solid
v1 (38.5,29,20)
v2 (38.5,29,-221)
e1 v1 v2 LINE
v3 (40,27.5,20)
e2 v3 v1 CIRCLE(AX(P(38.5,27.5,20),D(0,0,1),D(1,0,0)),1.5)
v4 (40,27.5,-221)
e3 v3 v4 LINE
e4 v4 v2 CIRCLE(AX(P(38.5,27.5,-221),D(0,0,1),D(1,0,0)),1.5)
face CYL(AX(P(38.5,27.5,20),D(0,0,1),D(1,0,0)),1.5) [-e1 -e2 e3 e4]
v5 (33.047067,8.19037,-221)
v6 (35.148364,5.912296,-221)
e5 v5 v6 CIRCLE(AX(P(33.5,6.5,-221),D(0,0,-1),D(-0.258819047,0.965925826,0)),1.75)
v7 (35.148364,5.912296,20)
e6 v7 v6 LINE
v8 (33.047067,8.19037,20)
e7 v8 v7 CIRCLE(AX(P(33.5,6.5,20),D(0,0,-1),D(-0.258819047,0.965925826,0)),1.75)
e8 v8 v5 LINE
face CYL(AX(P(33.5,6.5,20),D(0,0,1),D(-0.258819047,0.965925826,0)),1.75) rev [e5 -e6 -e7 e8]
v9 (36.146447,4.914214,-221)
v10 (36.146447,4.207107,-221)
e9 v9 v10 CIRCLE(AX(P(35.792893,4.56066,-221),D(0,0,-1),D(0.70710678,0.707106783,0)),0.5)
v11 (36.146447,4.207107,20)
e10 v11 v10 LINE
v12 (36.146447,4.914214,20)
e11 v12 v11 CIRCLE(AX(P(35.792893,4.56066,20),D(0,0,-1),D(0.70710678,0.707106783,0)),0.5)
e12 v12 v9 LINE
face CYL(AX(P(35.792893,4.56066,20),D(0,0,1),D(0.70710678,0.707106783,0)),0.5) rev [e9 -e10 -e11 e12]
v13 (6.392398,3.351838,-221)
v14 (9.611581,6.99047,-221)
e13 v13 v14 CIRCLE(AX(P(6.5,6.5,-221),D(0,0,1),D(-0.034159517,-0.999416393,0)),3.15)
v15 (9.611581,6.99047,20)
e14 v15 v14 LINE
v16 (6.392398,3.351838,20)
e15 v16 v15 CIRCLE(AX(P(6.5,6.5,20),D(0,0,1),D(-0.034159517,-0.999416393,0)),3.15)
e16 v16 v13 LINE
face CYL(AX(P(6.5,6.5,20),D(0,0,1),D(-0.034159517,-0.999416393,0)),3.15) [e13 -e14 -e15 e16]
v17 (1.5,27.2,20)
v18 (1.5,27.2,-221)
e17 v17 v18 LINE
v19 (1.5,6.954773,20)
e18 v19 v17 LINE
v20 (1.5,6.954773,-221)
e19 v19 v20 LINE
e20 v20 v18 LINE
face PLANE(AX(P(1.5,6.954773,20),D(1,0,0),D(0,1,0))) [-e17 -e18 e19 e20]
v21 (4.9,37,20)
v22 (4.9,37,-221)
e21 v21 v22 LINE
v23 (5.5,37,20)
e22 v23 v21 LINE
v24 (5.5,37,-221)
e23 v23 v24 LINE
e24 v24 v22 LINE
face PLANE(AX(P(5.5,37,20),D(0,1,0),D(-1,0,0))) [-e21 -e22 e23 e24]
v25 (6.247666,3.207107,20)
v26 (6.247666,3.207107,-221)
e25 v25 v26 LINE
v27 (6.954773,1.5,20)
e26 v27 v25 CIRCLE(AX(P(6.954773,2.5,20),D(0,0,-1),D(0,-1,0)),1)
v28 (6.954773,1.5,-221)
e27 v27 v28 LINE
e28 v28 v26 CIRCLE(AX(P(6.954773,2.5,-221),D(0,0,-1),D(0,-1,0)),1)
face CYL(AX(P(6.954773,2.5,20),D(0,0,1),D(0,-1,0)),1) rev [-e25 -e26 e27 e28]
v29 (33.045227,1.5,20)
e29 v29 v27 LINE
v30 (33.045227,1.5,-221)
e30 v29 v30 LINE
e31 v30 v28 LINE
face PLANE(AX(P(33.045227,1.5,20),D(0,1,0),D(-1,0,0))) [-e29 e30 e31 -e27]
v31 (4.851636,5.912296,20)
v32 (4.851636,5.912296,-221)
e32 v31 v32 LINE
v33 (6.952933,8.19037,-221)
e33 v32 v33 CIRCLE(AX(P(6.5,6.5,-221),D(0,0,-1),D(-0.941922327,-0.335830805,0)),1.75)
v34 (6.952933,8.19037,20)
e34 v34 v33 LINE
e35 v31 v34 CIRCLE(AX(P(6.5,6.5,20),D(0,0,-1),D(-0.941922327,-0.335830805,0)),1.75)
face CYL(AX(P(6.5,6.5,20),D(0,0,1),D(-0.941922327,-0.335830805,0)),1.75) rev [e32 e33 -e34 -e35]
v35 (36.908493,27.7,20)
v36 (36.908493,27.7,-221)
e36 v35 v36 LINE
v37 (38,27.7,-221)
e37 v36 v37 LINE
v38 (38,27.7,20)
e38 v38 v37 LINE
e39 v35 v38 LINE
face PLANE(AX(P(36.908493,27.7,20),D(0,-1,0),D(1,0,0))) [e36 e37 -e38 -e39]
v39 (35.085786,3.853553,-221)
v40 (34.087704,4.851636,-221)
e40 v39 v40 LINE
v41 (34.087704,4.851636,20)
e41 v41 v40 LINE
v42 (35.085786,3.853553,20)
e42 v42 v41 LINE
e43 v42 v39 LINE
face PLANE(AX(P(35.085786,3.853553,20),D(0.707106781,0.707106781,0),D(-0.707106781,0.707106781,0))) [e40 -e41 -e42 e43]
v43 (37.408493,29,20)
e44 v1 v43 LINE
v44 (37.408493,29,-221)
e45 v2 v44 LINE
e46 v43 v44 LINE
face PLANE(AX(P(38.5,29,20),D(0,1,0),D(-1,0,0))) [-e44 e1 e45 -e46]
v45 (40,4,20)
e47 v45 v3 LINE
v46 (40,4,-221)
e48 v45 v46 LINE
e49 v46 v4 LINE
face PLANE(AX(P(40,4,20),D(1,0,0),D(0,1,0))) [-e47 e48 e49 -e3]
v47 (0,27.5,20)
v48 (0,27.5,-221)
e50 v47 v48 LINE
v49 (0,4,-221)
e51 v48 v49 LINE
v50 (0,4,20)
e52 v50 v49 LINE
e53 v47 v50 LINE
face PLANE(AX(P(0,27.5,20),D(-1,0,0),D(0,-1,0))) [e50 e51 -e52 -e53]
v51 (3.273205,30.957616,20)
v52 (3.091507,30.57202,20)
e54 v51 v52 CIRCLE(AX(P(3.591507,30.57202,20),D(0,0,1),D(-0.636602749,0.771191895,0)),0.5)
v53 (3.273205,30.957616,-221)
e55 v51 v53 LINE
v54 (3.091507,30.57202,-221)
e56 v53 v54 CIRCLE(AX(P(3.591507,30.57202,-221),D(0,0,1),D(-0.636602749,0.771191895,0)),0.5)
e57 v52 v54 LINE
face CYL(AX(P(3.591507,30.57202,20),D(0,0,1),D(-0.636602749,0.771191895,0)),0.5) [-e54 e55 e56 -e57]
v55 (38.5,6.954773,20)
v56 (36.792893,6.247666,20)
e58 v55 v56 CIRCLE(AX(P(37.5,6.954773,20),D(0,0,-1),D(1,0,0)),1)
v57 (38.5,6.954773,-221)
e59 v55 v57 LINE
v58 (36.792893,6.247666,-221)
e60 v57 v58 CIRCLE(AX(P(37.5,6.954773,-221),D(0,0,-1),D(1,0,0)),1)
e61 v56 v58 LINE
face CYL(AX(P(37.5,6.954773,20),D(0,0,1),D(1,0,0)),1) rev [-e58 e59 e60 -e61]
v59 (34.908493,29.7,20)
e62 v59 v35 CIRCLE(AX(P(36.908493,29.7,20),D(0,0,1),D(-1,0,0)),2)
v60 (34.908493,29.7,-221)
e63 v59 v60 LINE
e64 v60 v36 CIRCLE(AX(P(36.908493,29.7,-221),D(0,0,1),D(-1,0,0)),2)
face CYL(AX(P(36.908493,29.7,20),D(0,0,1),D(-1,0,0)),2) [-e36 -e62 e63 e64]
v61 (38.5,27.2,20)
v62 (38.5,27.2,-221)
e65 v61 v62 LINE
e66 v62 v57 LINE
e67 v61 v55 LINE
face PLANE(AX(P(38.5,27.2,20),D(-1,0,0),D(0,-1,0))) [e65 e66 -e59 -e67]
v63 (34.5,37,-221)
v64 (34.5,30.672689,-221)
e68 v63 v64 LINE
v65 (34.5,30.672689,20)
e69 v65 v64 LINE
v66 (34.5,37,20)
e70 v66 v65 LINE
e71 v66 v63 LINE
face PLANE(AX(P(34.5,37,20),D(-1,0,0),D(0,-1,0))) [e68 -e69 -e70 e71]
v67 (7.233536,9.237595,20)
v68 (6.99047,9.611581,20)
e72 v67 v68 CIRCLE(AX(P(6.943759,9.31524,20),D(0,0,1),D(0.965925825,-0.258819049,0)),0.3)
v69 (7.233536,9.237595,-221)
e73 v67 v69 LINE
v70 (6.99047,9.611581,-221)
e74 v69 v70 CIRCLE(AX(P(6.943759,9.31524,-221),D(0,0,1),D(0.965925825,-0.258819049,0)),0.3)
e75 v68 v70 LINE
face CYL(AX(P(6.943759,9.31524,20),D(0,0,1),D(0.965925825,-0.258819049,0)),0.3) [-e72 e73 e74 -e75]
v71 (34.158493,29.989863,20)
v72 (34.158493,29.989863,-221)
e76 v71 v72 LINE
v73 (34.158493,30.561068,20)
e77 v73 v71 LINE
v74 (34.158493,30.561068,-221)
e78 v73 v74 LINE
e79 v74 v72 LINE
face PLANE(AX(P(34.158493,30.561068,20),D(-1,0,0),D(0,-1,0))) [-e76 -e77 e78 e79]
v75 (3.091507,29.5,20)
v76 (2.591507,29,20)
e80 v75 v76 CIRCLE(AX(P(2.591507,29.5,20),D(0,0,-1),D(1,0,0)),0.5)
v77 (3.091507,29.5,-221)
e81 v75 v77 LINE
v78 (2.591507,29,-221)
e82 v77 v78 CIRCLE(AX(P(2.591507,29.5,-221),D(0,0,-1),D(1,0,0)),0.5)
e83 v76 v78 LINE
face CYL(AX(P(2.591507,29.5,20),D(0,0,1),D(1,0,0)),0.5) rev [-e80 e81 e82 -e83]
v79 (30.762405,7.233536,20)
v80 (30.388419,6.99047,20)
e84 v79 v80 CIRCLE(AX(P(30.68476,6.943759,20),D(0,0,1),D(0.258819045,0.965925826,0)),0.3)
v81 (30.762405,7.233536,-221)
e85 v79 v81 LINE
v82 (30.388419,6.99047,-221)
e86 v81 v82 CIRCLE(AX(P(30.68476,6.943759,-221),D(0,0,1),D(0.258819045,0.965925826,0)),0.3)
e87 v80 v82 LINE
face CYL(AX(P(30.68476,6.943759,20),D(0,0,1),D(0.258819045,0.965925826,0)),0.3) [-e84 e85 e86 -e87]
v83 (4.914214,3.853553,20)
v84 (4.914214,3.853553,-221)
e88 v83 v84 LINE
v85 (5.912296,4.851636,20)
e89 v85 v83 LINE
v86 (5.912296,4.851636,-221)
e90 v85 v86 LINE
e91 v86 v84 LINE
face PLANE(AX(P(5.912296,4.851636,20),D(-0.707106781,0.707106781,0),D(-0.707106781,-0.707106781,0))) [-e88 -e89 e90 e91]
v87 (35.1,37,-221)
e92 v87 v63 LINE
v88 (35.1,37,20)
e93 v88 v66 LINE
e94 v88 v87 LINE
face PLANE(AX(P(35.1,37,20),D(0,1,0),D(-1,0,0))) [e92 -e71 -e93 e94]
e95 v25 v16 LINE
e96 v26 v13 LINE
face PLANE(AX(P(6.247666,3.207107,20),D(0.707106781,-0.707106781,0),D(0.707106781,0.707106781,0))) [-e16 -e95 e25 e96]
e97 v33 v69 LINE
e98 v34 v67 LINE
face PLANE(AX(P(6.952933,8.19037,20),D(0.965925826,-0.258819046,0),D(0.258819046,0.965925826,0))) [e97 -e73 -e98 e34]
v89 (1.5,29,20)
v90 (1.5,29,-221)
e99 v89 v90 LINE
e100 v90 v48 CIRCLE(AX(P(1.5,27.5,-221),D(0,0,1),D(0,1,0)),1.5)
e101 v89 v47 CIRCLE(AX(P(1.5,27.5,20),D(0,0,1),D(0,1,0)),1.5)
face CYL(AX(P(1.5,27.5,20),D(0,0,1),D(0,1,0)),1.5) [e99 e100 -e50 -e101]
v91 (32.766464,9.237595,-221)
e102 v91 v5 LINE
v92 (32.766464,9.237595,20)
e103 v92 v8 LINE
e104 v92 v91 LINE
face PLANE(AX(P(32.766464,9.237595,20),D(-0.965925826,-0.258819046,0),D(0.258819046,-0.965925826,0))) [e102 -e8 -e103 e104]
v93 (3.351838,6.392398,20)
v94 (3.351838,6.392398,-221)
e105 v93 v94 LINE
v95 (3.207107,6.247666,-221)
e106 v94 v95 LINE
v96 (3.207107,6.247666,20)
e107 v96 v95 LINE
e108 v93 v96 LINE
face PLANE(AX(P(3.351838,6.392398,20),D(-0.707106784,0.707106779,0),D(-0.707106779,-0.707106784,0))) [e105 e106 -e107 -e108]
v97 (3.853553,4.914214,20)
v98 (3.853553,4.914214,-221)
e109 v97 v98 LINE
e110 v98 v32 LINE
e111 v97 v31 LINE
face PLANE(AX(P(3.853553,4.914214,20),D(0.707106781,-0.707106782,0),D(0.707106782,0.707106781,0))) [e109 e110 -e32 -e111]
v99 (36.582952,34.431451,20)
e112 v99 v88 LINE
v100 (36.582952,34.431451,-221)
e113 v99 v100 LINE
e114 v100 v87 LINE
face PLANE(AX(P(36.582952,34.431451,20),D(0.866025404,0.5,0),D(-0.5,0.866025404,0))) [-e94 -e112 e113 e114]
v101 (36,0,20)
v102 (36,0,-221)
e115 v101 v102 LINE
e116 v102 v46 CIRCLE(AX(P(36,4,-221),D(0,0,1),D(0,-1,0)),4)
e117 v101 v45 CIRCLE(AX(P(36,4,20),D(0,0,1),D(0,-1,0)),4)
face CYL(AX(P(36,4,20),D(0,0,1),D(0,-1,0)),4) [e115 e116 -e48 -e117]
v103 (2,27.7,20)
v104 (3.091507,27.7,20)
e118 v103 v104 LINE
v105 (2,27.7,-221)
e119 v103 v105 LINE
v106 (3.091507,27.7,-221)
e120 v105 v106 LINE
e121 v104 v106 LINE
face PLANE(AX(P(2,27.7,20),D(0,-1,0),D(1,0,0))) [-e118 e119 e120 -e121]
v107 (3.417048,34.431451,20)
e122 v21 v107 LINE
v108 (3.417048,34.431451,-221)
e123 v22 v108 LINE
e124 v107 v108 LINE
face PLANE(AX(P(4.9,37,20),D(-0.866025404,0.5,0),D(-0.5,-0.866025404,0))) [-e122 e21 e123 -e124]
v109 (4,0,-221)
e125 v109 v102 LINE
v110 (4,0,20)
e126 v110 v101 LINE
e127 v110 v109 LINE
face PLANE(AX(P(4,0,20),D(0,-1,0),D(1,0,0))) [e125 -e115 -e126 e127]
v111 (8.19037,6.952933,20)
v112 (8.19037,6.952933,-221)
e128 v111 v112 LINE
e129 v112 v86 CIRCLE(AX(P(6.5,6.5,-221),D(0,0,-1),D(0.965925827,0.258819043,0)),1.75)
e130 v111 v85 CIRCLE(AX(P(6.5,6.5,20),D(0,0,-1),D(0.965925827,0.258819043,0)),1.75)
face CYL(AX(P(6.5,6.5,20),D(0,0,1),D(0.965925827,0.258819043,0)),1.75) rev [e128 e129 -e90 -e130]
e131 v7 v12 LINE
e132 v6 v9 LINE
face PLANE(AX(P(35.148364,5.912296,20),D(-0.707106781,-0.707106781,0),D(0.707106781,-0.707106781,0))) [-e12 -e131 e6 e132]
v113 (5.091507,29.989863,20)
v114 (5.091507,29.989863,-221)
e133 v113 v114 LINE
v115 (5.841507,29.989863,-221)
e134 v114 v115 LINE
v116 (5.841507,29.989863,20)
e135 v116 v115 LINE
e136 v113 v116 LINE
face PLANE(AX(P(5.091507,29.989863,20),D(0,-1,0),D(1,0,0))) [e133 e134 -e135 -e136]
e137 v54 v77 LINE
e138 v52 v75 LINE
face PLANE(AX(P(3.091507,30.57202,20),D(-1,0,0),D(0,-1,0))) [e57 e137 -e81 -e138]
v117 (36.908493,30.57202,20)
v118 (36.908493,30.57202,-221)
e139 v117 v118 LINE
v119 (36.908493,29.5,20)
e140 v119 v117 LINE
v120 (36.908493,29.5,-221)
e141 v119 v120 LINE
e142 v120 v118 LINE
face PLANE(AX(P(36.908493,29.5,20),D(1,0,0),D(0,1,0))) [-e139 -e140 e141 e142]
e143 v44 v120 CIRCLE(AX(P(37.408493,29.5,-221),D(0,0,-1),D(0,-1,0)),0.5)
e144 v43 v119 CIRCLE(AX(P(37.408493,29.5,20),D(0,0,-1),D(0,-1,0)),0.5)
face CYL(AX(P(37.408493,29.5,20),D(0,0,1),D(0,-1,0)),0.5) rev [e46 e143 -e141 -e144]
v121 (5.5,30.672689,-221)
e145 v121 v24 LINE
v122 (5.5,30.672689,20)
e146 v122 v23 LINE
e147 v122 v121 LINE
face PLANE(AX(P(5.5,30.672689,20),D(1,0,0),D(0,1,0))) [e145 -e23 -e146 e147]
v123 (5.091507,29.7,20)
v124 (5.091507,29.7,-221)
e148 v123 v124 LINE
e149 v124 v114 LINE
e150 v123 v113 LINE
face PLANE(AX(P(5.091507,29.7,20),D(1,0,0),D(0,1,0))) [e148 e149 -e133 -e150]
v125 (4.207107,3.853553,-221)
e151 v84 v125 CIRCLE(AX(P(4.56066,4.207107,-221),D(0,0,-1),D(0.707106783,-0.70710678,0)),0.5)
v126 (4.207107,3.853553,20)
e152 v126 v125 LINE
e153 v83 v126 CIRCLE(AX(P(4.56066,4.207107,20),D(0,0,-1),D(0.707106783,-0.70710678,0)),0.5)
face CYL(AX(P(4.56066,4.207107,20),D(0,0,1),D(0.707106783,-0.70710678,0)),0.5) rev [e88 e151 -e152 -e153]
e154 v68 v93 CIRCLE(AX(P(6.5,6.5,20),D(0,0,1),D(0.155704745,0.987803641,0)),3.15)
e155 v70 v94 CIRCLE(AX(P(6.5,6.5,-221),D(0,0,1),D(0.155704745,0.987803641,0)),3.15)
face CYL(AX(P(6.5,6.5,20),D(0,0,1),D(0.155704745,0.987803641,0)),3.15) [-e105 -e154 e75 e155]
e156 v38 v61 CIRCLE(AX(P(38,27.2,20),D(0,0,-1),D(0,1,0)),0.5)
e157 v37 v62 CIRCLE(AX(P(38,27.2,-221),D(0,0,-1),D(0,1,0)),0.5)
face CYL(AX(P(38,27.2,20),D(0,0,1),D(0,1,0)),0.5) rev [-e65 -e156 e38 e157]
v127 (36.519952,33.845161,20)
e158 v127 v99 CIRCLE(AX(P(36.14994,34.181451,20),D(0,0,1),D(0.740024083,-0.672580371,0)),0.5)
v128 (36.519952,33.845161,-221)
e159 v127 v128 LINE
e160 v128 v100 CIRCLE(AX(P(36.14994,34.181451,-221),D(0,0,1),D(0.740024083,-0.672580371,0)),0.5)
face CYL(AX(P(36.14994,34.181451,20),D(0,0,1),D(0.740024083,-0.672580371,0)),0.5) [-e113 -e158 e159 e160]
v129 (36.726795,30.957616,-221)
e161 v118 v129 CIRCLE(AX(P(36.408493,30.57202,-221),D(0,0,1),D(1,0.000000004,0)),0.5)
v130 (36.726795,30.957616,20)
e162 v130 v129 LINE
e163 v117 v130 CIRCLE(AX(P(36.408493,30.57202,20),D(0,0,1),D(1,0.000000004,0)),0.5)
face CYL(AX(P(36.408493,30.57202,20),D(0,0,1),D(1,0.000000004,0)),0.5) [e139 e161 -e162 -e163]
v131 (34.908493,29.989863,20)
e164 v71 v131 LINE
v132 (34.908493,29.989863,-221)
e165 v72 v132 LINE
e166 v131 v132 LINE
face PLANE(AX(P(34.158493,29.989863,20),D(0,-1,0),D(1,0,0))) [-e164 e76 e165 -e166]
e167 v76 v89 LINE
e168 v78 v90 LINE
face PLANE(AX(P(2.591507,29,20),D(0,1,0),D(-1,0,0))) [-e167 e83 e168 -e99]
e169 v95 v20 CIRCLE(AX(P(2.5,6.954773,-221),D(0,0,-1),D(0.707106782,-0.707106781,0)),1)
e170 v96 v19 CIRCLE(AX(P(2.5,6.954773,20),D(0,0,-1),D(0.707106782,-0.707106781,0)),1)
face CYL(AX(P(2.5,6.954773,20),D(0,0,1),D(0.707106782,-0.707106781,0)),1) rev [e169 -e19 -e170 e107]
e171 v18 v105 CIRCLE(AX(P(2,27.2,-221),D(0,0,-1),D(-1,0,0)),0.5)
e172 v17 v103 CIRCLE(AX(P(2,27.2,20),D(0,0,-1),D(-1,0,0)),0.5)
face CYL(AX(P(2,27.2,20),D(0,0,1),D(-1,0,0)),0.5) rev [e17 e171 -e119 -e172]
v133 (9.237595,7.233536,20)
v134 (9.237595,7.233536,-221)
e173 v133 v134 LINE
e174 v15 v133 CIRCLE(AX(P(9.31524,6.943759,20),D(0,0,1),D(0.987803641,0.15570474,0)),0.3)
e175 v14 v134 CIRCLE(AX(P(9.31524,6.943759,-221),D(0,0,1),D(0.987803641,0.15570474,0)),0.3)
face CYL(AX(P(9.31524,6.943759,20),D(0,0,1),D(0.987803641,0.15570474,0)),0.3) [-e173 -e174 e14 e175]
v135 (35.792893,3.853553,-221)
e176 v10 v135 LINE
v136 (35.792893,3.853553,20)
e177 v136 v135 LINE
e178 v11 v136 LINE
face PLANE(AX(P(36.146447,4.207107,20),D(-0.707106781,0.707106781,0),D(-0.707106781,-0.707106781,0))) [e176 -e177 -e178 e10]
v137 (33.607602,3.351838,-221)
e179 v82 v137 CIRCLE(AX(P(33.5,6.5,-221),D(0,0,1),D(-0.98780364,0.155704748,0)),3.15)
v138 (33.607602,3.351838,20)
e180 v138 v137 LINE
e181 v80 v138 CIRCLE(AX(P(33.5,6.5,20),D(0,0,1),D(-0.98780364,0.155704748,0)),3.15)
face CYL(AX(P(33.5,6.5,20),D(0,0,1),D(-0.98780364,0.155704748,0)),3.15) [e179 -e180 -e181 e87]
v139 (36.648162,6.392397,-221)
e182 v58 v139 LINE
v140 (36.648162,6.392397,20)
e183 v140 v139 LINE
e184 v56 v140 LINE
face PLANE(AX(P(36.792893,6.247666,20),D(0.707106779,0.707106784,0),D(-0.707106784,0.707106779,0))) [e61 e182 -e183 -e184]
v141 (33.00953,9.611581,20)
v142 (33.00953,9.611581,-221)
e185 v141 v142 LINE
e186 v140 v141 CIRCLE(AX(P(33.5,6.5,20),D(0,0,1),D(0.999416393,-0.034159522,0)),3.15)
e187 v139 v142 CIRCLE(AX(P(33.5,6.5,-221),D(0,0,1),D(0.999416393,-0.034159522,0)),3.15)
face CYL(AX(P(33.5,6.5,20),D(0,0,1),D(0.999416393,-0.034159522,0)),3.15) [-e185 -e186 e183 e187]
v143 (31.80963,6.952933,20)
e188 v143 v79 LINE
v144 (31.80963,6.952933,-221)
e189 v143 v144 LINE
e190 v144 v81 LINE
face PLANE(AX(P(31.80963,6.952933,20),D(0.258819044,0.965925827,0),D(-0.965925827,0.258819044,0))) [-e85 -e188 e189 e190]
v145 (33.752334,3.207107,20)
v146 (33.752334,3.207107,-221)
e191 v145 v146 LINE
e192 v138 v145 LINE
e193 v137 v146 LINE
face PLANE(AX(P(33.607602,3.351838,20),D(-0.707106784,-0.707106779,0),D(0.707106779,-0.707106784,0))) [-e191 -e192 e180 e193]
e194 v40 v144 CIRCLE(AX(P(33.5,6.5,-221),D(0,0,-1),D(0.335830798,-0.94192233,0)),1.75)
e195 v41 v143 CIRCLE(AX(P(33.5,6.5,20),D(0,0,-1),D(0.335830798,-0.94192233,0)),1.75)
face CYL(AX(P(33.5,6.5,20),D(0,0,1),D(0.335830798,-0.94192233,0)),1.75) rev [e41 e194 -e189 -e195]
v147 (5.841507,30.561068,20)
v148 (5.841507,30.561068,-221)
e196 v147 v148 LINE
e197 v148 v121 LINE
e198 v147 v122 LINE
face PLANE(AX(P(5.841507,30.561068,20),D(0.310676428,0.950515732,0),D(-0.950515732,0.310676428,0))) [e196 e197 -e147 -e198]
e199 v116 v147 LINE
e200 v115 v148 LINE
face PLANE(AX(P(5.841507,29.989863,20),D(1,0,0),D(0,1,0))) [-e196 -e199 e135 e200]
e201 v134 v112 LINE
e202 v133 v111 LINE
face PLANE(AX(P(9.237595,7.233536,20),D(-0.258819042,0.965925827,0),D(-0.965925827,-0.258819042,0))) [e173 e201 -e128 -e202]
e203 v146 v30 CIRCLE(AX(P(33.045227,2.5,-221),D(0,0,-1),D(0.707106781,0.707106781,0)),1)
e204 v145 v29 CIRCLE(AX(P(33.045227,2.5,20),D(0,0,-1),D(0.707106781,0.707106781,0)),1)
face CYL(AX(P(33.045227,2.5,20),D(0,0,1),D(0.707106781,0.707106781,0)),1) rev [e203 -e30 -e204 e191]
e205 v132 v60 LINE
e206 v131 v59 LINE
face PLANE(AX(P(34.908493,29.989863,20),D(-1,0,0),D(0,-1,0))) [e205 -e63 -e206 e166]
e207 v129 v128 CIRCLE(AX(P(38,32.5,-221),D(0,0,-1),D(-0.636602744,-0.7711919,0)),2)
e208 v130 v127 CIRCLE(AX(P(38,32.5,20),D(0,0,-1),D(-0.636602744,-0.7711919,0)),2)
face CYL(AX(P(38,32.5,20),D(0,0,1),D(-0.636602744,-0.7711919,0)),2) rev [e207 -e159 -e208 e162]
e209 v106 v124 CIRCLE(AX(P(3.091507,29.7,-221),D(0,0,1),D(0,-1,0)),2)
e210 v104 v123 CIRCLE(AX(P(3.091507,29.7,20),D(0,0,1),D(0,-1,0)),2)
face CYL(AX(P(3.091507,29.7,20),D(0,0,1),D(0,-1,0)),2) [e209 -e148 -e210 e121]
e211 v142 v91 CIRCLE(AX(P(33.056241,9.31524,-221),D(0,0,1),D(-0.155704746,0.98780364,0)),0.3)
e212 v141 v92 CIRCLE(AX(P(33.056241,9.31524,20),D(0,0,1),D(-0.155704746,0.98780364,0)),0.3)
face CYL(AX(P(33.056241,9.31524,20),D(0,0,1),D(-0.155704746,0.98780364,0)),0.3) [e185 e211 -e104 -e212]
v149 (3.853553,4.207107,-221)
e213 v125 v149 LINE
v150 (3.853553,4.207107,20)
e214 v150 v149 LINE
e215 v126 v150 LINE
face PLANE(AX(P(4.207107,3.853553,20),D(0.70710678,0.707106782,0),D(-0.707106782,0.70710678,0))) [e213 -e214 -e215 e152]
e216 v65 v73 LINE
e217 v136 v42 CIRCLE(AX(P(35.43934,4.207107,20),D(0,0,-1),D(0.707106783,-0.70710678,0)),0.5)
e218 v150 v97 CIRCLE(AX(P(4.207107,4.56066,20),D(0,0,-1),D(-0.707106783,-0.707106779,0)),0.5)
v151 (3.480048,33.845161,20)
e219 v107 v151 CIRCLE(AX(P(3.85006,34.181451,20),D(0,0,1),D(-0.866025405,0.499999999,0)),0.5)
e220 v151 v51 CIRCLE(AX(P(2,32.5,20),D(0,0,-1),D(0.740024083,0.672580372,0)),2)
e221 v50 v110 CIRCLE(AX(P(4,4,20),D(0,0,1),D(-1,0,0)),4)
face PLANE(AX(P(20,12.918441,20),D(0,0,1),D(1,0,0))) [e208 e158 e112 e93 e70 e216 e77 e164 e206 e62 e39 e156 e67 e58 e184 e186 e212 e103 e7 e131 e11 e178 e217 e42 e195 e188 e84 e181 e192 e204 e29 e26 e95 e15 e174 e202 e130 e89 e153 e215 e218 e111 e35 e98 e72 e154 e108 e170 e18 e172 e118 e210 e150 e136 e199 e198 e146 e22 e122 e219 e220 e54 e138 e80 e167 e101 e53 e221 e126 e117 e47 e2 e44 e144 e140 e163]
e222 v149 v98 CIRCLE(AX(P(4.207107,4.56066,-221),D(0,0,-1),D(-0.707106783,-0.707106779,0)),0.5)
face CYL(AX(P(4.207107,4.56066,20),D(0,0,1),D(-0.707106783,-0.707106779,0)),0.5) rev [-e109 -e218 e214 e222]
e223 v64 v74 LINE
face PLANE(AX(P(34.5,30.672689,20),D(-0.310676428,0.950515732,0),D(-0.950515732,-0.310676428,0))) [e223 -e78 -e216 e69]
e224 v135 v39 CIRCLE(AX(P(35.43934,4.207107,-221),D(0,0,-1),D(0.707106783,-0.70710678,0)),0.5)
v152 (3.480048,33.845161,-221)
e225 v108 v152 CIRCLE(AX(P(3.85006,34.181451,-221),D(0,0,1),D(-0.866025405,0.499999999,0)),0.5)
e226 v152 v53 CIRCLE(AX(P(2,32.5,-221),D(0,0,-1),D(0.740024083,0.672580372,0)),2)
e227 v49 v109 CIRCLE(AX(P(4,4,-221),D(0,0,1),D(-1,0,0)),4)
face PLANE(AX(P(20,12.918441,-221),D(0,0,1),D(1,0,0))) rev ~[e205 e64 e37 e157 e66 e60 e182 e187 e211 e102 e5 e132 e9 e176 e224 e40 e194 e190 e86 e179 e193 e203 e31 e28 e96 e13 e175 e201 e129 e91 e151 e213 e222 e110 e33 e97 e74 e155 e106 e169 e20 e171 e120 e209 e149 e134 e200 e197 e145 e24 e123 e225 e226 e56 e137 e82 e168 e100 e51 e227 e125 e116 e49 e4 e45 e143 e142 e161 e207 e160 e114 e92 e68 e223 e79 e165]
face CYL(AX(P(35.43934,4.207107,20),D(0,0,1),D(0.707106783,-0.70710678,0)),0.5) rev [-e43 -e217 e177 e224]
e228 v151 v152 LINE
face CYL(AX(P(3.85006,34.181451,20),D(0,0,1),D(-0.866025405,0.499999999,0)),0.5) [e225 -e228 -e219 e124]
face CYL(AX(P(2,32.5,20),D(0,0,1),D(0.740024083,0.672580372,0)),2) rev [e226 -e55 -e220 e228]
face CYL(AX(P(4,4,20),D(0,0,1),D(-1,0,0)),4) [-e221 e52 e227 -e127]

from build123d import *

# Parameters (mm, degrees)
BOSS_EXTRUDE1_DEPTH = 241


with BuildPart() as part:
    # Sketch1 → Boss-Extrude1 (new body)
    with BuildSketch(Plane.XY.offset(20)):
        with BuildLine():
            Line((4, 0), (36, 0))
            ThreePointArc((36, 0), (38.828427125, 1.171572875), (40, 4))
            Line((40, 4), (40, 27.499999994))
            ThreePointArc((40, 27.499999994), (39.56066017, 28.56066017), (38.499999994, 29))
            Line((38.499999994, 29), (37.408493132, 29))
            ThreePointArc((37.408493132, 29), (37.05493974, 29.14644661), (36.90849313, 29.500000002))
            Line((36.90849313, 29.500000002), (36.90849313, 30.572020267))
            ThreePointArc((36.90849313, 30.572020267), (36.86079319, 30.785150869), (36.726794508, 30.957616203))
            ThreePointArc((36.726794508, 30.957616203), (36.005111578, 32.357100716), (36.519951827, 33.845160752))
            ThreePointArc((36.519951827, 33.845160752), (36.647077826, 34.128030253), (36.582952488, 34.431450944))
            Line((36.582952488, 34.431450944), (35.099999998, 37.000000001))
            Line((35.099999998, 37.000000001), (34.500000002, 37.000000001))
            Line((34.500000002, 37.000000001), (34.500000002, 30.672689193))
            Line((34.500000002, 30.672689193), (34.158493132, 30.561067543))
            Line((34.158493132, 30.561067543), (34.158493132, 29.989862813))
            Line((34.158493132, 29.989862813), (34.908493132, 29.989862813))
            Line((34.908493132, 29.989862813), (34.908493132, 29.700000011))
            ThreePointArc((34.908493132, 29.700000011), (35.494279572, 28.285786443), (36.908493141, 27.700000003))
            Line((36.908493141, 27.700000003), (38.000000017, 27.700000003))
            ThreePointArc((38.000000017, 27.700000003), (38.353553409, 27.553553393), (38.500000019, 27.200000001))
            Line((38.500000019, 27.200000001), (38.500000019, 6.9547727))
            ThreePointArc((38.500000019, 6.9547727), (37.882683451, 6.030893167), (36.792893237, 6.247665919))
            Line((36.792893237, 6.247665919), (36.648161659, 6.392397496))
            ThreePointArc((36.648161659, 6.392397496), (35.587251229, 8.859212237), (33.009530056, 9.611581471))
            ThreePointArc((33.009530056, 9.611581471), (32.804700675, 9.478725012), (32.766463725, 9.237594653))
            Line((32.766463725, 9.237594653), (33.047066675, 8.190370192))
            ThreePointArc((33.047066675, 8.190370192), (34.786339421, 7.686520507), (35.148364083, 5.912296075))
            Line((35.148364083, 5.912296075), (36.146446608, 4.91421355))
            ThreePointArc((36.146446608, 4.91421355), (36.292893217, 4.560660161), (36.146446608, 4.207106773))
            Line((36.146446608, 4.207106773), (35.792893214, 3.853553379))
            ThreePointArc((35.792893214, 3.853553379), (35.439339826, 3.70710677), (35.085786437, 3.853553379))
            Line((35.085786437, 3.853553379), (34.087703906, 4.85163591))
            ThreePointArc((34.087703906, 4.85163591), (32.313479487, 5.213660585), (31.809629807, 6.952933321))
            Line((31.809629807, 6.952933321), (30.762405333, 7.233536272))
            ThreePointArc((30.762405333, 7.233536272), (30.521274984, 7.195299323), (30.38841853, 6.990469949))
            ThreePointArc((30.38841853, 6.990469949), (31.140787752, 4.412748784), (33.607602477, 3.351838341))
            Line((33.607602477, 3.351838341), (33.752334032, 3.207106785))
            ThreePointArc((33.752334032, 3.207106785), (33.969106782, 2.117316579), (33.045227255, 1.500000015))
            Line((33.045227255, 1.500000015), (6.954772716, 1.500000015))
            ThreePointArc((6.954772716, 1.500000015), (6.030893183, 2.117316583), (6.247665934, 3.207106797))
            Line((6.247665934, 3.207106797), (6.392397512, 3.351838375))
            ThreePointArc((6.392397512, 3.351838375), (8.859212224, 4.412748803), (9.611581449, 6.990469949))
            ThreePointArc((9.611581449, 6.990469949), (9.478724996, 7.195299323), (9.237594646, 7.233536272))
            Line((9.237594646, 7.233536272), (8.190370187, 6.952933328))
            ThreePointArc((8.190370187, 6.952933328), (7.686520502, 5.213660596), (5.912296085, 4.851635932))
            Line((5.912296085, 4.851635932), (4.914213553, 3.8535534))
            ThreePointArc((4.914213553, 3.8535534), (4.560660164, 3.707106791), (4.207106776, 3.8535534))
            Line((4.207106776, 3.8535534), (3.853553388, 4.207106787))
            ThreePointArc((3.853553388, 4.207106787), (3.70710678, 4.560660175), (3.853553388, 4.914213564))
            Line((3.853553388, 4.914213564), (4.85163592, 5.912296095))
            ThreePointArc((4.85163592, 5.912296095), (5.213660585, 7.686520517), (6.952933322, 8.190370198))
            Line((6.952933322, 8.190370198), (7.233536268, 9.237594644))
            ThreePointArc((7.233536268, 9.237594644), (7.195299318, 9.478725003), (6.990469936, 9.611581462))
            ThreePointArc((6.990469936, 9.611581462), (4.412748785, 8.859212233), (3.351838362, 6.392397513))
            Line((3.351838362, 6.392397513), (3.207106785, 6.247665935))
            ThreePointArc((3.207106785, 6.247665935), (2.11731657, 6.030893183), (1.500000002, 6.954772717))
            Line((1.500000002, 6.954772717), (1.500000002, 27.200000001))
            ThreePointArc((1.500000002, 27.200000001), (1.646446612, 27.553553393), (2.000000004, 27.700000003))
            Line((2.000000004, 27.700000003), (3.091506864, 27.700000003))
            ThreePointArc((3.091506864, 27.700000003), (4.505720432, 28.285786443), (5.091506872, 29.700000011))
            Line((5.091506872, 29.700000011), (5.091506872, 29.989862813))
            Line((5.091506872, 29.989862813), (5.841506868, 29.989862813))
            Line((5.841506868, 29.989862813), (5.841506868, 30.561067541))
            Line((5.841506868, 30.561067541), (5.499999998, 30.672689191))
            Line((5.499999998, 30.672689191), (5.499999998, 37.000000001))
            Line((5.499999998, 37.000000001), (4.899999998, 37.000000001))
            Line((4.899999998, 37.000000001), (3.417047508, 34.431450944))
            ThreePointArc((3.417047508, 34.431450944), (3.35292217, 34.128030253), (3.480048169, 33.845160751))
            ThreePointArc((3.480048169, 33.845160751), (3.99488842, 32.357100716), (3.273205491, 30.957616203))
            ThreePointArc((3.273205491, 30.957616203), (3.13920681, 30.785150869), (3.09150687, 30.572020267))
            Line((3.09150687, 30.572020267), (3.09150687, 29.500000002))
            ThreePointArc((3.09150687, 29.500000002), (2.94506026, 29.14644661), (2.591506868, 29))
            Line((2.591506868, 29), (1.500000006, 29))
            ThreePointArc((1.500000006, 29), (0.43933983, 28.56066017), (0, 27.499999994))
            Line((0, 27.499999994), (0, 4))
            ThreePointArc((0, 4), (1.171572875, 1.171572875), (4, 0))
        make_face()
    extrude(amount=-BOSS_EXTRUDE1_DEPTH)


solid = part.part
